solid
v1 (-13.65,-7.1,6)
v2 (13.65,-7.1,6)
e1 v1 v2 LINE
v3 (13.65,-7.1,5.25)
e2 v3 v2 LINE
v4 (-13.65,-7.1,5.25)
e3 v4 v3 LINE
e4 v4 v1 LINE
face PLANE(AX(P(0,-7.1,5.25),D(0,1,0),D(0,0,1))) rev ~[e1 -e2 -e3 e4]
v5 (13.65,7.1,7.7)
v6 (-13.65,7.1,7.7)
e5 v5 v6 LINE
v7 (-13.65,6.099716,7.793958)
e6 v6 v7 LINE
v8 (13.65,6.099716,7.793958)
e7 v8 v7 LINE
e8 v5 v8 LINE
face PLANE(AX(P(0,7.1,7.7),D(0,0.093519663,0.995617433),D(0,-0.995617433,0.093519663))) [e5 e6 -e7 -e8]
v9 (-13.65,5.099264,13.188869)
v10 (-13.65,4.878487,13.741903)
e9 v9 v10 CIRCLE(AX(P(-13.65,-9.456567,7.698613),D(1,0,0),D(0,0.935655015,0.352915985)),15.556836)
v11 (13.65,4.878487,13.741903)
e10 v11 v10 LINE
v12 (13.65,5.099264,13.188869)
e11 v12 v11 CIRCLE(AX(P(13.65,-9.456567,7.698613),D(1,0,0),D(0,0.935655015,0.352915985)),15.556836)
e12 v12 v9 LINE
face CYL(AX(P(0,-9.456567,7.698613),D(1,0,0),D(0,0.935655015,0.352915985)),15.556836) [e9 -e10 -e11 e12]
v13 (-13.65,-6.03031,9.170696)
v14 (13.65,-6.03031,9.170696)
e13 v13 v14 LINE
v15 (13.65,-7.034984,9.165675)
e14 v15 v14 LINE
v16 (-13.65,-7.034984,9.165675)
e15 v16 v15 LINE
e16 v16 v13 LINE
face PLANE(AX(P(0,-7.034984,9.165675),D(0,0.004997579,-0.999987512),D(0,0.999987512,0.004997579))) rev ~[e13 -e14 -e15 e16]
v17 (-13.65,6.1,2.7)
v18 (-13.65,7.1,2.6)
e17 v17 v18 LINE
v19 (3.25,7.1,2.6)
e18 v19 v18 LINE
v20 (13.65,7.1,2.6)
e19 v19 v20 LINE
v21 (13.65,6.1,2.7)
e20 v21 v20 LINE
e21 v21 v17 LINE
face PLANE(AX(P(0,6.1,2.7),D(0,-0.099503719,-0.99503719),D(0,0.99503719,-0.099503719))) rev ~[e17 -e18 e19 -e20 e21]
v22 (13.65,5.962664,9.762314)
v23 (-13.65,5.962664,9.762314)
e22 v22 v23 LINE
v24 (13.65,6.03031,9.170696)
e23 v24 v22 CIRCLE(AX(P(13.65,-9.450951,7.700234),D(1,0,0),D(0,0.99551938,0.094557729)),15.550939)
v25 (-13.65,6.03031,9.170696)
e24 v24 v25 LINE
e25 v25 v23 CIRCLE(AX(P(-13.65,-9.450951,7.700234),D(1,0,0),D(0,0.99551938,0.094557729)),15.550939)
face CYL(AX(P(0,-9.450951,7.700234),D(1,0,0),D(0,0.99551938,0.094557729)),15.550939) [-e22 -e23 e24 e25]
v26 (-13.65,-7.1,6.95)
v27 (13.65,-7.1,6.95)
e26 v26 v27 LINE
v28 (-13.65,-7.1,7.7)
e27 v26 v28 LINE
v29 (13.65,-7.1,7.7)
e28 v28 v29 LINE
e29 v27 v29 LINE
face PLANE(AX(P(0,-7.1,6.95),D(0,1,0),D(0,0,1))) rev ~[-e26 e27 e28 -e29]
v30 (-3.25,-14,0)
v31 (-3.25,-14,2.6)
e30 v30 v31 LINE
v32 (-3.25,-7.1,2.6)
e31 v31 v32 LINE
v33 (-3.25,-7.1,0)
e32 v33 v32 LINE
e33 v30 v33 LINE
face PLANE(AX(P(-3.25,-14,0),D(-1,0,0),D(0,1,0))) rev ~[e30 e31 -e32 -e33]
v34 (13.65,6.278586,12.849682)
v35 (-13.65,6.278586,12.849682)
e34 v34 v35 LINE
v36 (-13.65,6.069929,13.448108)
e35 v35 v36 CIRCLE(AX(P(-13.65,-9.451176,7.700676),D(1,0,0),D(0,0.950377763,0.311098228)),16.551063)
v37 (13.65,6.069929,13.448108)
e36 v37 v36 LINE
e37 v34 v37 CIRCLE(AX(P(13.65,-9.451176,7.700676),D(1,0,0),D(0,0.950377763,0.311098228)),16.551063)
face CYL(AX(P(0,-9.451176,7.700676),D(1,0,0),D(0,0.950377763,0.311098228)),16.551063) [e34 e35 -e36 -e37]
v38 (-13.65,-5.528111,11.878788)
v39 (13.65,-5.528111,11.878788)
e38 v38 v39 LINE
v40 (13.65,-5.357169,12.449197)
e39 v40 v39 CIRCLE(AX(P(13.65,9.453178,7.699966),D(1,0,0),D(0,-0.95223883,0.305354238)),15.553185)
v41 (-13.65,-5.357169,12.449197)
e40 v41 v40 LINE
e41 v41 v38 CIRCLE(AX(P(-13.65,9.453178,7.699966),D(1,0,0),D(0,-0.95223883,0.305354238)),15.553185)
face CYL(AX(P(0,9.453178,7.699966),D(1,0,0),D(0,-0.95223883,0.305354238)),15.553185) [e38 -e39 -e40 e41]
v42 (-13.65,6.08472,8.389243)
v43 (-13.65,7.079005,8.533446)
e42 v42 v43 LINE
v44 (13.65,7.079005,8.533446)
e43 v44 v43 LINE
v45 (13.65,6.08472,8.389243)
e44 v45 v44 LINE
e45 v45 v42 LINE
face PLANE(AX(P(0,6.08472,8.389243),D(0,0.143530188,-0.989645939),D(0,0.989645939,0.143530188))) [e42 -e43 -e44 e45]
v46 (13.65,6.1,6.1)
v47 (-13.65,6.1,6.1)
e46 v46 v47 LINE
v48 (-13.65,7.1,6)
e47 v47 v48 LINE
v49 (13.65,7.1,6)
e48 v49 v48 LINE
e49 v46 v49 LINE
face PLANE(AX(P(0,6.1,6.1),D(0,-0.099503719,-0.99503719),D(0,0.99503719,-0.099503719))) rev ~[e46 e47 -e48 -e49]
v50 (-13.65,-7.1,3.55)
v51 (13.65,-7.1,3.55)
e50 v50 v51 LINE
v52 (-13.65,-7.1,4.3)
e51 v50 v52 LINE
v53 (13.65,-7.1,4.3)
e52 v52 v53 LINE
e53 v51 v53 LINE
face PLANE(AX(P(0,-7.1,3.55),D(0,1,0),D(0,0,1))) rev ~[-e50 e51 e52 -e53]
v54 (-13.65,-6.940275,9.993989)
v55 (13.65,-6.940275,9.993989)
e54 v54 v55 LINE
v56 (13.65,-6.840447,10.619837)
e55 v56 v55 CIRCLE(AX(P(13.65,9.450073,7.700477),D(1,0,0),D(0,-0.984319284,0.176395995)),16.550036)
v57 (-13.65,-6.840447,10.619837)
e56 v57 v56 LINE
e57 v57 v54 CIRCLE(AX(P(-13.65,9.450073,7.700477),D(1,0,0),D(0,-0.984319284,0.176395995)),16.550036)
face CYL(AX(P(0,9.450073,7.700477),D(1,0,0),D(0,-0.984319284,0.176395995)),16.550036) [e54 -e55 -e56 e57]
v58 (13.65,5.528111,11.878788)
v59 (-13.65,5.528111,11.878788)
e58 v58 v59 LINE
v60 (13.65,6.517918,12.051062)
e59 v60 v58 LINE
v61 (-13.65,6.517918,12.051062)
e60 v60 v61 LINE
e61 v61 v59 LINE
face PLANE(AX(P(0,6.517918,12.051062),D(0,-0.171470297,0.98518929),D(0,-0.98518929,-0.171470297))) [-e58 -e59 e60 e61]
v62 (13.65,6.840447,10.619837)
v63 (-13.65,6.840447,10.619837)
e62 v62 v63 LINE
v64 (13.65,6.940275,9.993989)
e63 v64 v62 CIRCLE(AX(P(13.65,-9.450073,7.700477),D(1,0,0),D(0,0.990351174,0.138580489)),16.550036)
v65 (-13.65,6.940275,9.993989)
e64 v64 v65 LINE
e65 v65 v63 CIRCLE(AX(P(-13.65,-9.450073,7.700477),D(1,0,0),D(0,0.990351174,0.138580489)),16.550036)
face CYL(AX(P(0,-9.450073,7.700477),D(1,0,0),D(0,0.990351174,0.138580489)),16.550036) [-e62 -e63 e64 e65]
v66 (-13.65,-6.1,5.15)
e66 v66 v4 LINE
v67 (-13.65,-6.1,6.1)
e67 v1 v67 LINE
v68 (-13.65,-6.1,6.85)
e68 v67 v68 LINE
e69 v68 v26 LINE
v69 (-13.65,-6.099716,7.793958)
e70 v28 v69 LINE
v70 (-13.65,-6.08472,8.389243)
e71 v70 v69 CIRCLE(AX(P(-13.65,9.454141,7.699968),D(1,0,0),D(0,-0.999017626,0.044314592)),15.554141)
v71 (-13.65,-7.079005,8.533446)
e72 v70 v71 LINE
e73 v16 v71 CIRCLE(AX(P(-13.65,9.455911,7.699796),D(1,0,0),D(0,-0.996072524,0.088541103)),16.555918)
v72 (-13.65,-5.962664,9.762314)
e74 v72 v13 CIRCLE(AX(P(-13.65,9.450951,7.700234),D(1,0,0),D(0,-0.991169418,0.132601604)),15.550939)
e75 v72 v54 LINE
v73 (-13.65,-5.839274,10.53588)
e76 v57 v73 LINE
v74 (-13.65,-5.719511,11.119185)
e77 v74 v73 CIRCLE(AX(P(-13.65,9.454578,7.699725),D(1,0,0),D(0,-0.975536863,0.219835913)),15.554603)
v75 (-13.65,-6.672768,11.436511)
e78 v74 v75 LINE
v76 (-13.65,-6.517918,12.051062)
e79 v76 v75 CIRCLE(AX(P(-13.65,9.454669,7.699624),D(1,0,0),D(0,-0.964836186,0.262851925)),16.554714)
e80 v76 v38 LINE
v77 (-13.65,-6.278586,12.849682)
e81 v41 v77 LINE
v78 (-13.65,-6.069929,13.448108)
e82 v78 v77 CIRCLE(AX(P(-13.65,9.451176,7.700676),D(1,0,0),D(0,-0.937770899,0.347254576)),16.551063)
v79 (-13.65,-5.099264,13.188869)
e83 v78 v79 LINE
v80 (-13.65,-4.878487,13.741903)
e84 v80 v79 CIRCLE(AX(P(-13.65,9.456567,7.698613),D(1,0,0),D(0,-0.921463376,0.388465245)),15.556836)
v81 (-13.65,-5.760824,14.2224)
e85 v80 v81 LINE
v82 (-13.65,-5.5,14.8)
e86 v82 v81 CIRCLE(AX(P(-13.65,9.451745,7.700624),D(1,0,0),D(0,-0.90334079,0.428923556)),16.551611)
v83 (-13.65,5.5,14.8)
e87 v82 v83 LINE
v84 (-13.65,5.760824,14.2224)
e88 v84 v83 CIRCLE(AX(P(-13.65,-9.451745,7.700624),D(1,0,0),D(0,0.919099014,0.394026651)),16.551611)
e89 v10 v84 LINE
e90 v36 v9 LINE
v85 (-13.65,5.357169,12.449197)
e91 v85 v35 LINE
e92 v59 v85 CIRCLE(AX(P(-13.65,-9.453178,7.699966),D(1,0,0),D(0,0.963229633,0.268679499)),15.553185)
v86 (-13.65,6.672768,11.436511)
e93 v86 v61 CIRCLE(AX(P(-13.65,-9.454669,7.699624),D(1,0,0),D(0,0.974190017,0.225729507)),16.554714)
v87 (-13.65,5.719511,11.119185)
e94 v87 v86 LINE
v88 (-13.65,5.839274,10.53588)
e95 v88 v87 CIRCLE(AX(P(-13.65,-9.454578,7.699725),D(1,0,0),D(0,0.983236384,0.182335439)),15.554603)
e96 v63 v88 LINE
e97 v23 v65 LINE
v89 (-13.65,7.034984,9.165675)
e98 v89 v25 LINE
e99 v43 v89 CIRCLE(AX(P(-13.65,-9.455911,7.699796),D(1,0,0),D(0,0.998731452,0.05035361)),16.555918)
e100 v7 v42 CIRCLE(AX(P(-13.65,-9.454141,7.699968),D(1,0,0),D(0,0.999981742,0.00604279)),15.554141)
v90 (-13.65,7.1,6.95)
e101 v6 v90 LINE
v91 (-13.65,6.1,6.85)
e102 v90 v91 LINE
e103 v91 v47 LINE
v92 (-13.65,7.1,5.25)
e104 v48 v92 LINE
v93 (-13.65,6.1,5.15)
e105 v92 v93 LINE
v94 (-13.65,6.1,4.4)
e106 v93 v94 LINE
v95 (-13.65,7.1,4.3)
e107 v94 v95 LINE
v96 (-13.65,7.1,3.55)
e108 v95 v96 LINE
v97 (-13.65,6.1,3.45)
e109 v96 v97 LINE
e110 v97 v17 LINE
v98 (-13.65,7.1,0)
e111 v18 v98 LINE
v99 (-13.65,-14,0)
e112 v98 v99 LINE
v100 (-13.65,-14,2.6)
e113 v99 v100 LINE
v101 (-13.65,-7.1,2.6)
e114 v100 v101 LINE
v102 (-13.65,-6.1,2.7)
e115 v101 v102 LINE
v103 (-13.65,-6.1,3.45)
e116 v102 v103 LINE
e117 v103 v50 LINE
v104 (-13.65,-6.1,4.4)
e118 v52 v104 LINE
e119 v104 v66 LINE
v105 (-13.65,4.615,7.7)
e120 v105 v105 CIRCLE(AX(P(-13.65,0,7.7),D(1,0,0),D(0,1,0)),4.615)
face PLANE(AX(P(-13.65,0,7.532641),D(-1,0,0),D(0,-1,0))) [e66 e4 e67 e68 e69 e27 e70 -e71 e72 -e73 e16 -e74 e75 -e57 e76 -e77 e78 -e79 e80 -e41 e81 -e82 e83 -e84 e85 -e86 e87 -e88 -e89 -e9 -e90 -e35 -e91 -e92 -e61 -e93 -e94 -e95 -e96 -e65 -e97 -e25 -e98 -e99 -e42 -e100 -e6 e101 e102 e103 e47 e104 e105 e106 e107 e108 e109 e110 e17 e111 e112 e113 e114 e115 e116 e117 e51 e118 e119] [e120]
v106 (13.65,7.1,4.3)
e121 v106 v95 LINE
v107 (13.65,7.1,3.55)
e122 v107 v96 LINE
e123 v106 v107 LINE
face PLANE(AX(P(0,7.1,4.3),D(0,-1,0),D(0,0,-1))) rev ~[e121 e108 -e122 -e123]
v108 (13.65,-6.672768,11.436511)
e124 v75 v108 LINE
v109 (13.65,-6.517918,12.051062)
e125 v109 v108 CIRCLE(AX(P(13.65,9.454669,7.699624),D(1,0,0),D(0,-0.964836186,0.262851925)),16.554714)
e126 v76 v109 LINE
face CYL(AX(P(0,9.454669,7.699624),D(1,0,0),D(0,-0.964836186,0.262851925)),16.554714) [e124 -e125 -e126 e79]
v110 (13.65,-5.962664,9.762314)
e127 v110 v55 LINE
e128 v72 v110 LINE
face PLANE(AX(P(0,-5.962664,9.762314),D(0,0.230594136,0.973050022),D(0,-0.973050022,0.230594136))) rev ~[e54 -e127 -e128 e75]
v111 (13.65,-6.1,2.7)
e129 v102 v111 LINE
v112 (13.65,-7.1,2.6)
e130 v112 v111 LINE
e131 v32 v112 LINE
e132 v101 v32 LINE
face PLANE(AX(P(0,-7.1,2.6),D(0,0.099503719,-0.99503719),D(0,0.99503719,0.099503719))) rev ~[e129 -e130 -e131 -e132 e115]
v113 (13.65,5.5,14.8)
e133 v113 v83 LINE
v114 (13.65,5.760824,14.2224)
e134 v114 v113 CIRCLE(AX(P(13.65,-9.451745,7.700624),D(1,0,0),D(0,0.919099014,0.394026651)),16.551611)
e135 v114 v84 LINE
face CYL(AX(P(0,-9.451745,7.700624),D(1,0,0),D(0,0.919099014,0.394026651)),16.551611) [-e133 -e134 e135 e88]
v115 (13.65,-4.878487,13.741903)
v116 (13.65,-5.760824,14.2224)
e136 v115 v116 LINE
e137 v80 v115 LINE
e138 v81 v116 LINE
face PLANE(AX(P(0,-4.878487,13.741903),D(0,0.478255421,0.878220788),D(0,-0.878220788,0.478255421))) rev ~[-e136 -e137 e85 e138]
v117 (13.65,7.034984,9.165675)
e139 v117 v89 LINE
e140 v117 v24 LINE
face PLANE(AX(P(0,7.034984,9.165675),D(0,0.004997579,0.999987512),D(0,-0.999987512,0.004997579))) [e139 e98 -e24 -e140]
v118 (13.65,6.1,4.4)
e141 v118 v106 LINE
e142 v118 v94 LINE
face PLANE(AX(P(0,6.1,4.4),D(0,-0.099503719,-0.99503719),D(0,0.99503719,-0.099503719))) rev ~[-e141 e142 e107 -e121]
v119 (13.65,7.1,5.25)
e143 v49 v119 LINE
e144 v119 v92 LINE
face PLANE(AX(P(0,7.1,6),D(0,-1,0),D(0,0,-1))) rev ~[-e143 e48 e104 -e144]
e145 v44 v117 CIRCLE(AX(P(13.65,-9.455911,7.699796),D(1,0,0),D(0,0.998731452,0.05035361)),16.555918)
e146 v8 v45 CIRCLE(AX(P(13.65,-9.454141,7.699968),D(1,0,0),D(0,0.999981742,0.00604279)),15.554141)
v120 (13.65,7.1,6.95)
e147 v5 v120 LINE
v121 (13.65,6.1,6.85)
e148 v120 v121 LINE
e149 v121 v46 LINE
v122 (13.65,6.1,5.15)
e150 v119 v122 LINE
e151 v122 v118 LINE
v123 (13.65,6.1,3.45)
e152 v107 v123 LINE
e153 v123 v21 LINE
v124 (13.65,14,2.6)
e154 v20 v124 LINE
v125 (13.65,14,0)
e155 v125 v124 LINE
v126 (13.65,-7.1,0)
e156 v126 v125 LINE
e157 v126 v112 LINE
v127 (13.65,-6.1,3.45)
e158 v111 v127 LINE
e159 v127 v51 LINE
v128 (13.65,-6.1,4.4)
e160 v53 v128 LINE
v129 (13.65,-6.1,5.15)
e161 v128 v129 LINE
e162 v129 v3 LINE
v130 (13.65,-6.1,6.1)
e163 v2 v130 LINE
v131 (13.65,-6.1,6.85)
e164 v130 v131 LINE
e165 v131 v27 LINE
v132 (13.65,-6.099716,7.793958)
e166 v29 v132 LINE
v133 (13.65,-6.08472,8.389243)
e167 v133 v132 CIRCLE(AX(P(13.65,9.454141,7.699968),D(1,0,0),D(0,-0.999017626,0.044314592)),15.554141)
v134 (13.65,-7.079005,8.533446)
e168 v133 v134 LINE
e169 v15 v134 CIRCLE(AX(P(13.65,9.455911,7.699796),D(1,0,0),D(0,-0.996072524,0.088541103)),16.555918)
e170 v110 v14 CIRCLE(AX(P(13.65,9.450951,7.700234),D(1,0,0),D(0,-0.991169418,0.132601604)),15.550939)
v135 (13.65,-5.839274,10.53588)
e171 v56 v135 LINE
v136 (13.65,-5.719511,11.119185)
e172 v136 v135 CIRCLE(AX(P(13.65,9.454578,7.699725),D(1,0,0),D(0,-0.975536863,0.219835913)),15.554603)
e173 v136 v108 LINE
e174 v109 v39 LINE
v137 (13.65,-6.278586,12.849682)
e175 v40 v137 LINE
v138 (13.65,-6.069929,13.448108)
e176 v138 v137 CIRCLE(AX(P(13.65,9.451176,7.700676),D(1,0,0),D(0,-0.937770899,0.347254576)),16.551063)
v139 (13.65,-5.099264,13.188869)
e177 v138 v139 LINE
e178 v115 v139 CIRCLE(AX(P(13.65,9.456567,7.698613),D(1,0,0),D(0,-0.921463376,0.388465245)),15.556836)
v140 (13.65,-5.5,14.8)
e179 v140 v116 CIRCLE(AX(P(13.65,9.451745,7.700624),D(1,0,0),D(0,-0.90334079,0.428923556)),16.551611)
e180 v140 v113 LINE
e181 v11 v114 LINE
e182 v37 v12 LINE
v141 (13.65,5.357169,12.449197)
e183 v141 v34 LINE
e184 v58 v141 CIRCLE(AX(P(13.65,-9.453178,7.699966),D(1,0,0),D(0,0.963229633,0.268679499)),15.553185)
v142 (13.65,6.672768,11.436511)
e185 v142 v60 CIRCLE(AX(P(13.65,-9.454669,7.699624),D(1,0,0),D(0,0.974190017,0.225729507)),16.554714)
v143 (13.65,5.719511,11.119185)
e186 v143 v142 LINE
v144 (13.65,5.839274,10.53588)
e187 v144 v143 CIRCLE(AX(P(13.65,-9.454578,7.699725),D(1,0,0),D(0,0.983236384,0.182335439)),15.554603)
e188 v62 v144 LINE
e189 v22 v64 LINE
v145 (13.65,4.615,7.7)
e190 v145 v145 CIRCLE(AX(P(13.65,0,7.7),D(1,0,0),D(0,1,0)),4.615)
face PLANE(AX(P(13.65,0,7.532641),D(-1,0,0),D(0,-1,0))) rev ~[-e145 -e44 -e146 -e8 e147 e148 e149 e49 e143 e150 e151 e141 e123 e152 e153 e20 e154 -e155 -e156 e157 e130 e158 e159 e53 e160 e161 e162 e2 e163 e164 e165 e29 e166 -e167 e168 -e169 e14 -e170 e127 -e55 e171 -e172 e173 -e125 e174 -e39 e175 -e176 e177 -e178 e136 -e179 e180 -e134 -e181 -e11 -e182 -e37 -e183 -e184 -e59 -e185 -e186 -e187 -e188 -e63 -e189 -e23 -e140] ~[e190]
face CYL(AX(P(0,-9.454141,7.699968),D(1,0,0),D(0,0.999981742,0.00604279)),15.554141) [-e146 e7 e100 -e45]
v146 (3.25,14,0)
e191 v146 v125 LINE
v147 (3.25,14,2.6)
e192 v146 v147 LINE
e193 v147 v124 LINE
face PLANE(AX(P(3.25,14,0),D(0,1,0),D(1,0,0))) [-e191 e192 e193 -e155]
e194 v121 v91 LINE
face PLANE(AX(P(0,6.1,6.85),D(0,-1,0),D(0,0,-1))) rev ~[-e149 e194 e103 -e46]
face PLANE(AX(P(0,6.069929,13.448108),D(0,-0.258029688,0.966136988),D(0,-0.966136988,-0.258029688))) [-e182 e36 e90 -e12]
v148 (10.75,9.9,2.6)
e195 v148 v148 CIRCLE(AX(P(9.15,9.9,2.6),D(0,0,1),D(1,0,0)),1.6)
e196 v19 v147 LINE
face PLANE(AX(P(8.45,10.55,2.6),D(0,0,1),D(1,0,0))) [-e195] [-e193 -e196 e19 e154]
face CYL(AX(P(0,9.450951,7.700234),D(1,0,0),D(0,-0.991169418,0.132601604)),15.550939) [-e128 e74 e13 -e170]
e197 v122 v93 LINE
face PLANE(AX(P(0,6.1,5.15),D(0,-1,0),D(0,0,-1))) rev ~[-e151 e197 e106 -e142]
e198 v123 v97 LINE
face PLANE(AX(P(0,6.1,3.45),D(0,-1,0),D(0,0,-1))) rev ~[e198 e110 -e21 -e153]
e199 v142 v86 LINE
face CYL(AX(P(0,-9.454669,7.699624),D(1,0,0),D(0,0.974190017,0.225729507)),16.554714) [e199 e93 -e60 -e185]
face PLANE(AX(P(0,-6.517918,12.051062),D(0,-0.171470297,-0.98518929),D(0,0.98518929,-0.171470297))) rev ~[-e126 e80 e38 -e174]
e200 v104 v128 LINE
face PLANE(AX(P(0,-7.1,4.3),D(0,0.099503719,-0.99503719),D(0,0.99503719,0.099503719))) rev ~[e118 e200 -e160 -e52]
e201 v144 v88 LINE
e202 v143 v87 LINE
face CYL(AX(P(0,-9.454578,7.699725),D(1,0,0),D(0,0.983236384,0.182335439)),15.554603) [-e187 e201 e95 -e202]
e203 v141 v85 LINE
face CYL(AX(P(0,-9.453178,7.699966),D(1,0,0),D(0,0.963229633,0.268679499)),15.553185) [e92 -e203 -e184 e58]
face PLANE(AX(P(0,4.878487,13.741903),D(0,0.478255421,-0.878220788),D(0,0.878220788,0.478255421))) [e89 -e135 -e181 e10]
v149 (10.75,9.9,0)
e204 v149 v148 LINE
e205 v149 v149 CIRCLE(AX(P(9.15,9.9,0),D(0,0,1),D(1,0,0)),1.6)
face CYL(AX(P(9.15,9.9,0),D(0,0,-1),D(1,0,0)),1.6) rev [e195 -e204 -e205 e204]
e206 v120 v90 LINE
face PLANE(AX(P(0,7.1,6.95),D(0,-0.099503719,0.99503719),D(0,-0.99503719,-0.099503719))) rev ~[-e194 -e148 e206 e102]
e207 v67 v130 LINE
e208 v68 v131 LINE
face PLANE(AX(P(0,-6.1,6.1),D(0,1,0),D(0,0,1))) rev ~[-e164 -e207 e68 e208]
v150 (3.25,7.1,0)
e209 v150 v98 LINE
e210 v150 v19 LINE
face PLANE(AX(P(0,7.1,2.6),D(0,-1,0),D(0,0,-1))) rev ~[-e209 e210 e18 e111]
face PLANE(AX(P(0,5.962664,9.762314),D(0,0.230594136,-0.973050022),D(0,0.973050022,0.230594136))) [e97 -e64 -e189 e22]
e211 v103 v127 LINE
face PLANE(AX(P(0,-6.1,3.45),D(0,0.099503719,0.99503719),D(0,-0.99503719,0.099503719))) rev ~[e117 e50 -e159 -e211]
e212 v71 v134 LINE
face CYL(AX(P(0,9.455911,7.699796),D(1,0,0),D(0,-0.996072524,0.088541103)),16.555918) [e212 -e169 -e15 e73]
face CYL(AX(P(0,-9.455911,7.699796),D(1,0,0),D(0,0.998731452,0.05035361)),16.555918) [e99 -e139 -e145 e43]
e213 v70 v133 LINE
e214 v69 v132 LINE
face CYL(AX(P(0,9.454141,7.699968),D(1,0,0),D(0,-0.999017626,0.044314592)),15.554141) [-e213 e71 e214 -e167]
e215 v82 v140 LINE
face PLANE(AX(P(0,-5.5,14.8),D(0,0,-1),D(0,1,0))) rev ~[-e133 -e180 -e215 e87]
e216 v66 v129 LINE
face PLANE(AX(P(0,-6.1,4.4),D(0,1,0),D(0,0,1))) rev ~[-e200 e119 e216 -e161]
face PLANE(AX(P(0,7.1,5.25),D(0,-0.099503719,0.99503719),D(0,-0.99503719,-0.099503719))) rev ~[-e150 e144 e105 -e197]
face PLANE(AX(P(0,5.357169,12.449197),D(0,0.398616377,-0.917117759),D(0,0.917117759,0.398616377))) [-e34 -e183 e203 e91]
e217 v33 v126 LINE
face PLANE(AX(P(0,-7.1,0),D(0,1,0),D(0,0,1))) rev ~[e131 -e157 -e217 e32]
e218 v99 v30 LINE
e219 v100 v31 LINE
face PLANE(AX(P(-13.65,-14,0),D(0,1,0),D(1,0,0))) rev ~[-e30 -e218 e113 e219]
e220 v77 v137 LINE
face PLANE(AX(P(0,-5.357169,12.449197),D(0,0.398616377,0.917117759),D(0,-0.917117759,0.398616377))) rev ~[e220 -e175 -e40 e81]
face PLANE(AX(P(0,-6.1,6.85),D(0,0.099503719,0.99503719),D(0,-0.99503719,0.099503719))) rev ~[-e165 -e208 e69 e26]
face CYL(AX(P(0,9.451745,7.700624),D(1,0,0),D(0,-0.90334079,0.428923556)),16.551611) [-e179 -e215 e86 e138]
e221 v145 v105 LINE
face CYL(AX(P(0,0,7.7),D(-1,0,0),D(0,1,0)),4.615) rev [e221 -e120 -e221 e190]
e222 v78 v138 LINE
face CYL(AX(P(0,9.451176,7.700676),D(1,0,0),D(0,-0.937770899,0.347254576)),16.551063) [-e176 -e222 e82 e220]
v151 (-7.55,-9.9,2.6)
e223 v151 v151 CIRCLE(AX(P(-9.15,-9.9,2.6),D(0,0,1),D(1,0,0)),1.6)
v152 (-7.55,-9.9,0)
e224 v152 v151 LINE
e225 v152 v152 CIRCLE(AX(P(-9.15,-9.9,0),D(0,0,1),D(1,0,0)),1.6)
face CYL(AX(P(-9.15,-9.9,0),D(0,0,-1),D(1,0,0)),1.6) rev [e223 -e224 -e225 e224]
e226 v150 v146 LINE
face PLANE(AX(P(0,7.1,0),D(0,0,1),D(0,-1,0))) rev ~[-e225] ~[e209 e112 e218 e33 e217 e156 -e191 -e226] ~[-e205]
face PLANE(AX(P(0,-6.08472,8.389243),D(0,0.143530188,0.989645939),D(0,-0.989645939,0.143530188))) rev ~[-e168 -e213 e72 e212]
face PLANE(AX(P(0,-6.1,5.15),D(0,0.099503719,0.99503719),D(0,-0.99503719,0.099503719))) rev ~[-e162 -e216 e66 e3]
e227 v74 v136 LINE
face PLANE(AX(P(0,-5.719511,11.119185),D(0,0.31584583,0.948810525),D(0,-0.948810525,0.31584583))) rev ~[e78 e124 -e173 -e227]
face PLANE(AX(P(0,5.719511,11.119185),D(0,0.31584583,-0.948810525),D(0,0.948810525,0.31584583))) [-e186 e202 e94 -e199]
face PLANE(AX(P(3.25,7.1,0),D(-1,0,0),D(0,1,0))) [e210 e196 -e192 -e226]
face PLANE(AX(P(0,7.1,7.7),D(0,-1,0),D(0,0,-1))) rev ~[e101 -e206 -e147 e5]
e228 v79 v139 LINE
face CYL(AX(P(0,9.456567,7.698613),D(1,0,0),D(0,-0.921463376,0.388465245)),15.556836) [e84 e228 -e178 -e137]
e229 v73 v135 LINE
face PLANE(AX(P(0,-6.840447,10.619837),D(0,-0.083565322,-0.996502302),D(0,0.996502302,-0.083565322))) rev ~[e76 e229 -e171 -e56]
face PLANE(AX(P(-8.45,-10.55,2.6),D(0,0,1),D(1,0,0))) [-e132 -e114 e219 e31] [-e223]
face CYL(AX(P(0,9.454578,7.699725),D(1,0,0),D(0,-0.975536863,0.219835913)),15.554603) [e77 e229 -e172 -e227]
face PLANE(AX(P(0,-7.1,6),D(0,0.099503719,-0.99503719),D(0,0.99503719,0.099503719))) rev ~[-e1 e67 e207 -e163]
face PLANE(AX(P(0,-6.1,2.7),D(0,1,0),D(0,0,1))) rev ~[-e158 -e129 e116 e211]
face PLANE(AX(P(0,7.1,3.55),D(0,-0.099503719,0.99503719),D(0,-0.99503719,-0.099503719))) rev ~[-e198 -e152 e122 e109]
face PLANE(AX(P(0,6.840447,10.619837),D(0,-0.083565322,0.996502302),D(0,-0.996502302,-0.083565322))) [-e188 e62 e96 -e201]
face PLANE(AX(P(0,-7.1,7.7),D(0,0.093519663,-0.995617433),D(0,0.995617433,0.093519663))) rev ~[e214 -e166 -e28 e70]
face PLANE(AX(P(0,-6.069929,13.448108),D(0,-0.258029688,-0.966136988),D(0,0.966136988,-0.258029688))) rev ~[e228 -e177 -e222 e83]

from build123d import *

# Parameters (mm, degrees)
SKETCH_R         = 4.615
EXTRUDE_DEPTH    = 13.65
SKETCH001_W      = 10.4
SKETCH001_H      = 6.9
SKETCH001_R      = 1.6
EXTRUDE001_DEPTH = 2.6


with BuildPart() as body_main:
    # Sketch → Extrude (new body, symmetric)
    with BuildSketch(Plane.YZ):
        with BuildLine():
            Line((-5.5, 14.8), (5.5, 14.8))
            ThreePointArc((5.760824, 14.2224), (5.633177, 14.512448), (5.5, 14.8))
            Line((4.878487, 13.741903), (5.760824, 14.2224))
            ThreePointArc((5.099264, 13.188869), (4.991522, 13.466442), (4.878487, 13.741903))
            Line((6.069929, 13.448108), (5.099264, 13.188869))
            ThreePointArc((6.278586, 12.849682), (6.177122, 13.149894), (6.069929, 13.448108))
            Line((5.357169, 12.449197), (6.278586, 12.849682))
            ThreePointArc((5.528111, 11.878788), (5.44537, 12.164811), (5.357169, 12.449197))
            Line((6.517918, 12.051062), (5.528111, 11.878788))
            ThreePointArc((6.672768, 11.436511), (6.598284, 11.744528), (6.517918, 12.051062))
            Line((5.719511, 11.119185), (6.672768, 11.436511))
            ThreePointArc((5.839274, 10.53588), (5.782184, 10.828106), (5.719511, 11.119185))
            Line((6.840447, 10.619837), (5.839274, 10.53588))
            ThreePointArc((6.940275, 9.993989), (6.893357, 10.307391), (6.840447, 10.619837))
            Line((5.962664, 9.762314), (6.940275, 9.993989))
            ThreePointArc((6.03031, 9.170696), (5.999319, 9.466829), (5.962664, 9.762314))
            Line((7.034984, 9.165675), (6.03031, 9.170696))
            ThreePointArc((7.079005, 8.533446), (7.06002, 8.849771), (7.034984, 9.165675))
            Line((6.08472, 8.389243), (7.079005, 8.533446))
            ThreePointArc((6.099716, 7.793958), (6.095067, 8.091672), (6.08472, 8.389243))
            Line((7.1, 7.7), (6.099716, 7.793958))
            Line((7.1, 7.7), (7.1, 6.95))
            Line((7.1, 6.95), (6.1, 6.85))
            Line((6.1, 6.85), (6.1, 6.1))
            Line((6.1, 6.1), (7.1, 6))
            Line((7.1, 6), (7.1, 5.25))
            Line((7.1, 5.25), (6.1, 5.15))
            Line((6.1, 5.15), (6.1, 4.4))
            Line((6.1, 4.4), (7.1, 4.3))
            Line((7.1, 4.3), (7.1, 3.55))
            Line((7.1, 3.55), (6.1, 3.45))
            Line((6.1, 3.45), (6.1, 2.7))
            Line((6.1, 2.7), (7.1, 2.6))
            Line((7.1, 2.6), (7.1, 0))
            Line((7.1, 0), (-7.1, 0))
            Line((-7.1, 0), (-7.1, 2.6))
            Line((-7.1, 2.6), (-6.1, 2.7))
            Line((-6.1, 2.7), (-6.1, 3.45))
            Line((-6.1, 3.45), (-7.1, 3.55))
            Line((-7.1, 3.55), (-7.1, 4.3))
            Line((-7.1, 4.3), (-6.1, 4.4))
            Line((-6.1, 4.4), (-6.1, 5.15))
            Line((-6.1, 5.15), (-7.1, 5.25))
            Line((-7.1, 5.25), (-7.1, 6))
            Line((-7.1, 6), (-6.1, 6.1))
            Line((-6.1, 6.1), (-6.1, 6.85))
            Line((-6.1, 6.85), (-7.1, 6.95))
            Line((-7.1, 6.95), (-7.1, 7.7))
            Line((-7.1, 7.7), (-6.099716, 7.793958))
            ThreePointArc((-6.08472, 8.389243), (-6.095067, 8.091672), (-6.099716, 7.793958))
            Line((-6.08472, 8.389243), (-7.079005, 8.533446))
            ThreePointArc((-7.034984, 9.165675), (-7.06002, 8.849771), (-7.079005, 8.533446))
            Line((-7.034984, 9.165675), (-6.03031, 9.170696))
            ThreePointArc((-5.962664, 9.762314), (-5.999319, 9.466829), (-6.03031, 9.170696))
            Line((-5.962664, 9.762314), (-6.940275, 9.993989))
            ThreePointArc((-6.840447, 10.619837), (-6.893357, 10.307391), (-6.940275, 9.993989))
            Line((-6.840447, 10.619837), (-5.839274, 10.53588))
            ThreePointArc((-5.719511, 11.119185), (-5.782184, 10.828106), (-5.839274, 10.53588))
            Line((-5.719511, 11.119185), (-6.672768, 11.436511))
            ThreePointArc((-6.517918, 12.051062), (-6.598284, 11.744528), (-6.672768, 11.436511))
            Line((-6.517918, 12.051062), (-5.528111, 11.878788))
            ThreePointArc((-5.357169, 12.449197), (-5.44537, 12.164811), (-5.528111, 11.878788))
            Line((-5.357169, 12.449197), (-6.278586, 12.849682))
            ThreePointArc((-6.069929, 13.448108), (-6.177122, 13.149894), (-6.278586, 12.849682))
            Line((-6.069929, 13.448108), (-5.099264, 13.188869))
            ThreePointArc((-4.878487, 13.741903), (-4.991522, 13.466442), (-5.099264, 13.188869))
            Line((-4.878487, 13.741903), (-5.760824, 14.2224))
            ThreePointArc((-5.5, 14.8), (-5.633177, 14.512448), (-5.760824, 14.2224))
        make_face()
        with Locations((0, 7.7)):
            Circle(SKETCH_R, mode=Mode.SUBTRACT)
    extrude(amount=EXTRUDE_DEPTH, both=True)


with BuildPart() as body:
    # Sketch001 → Extrude001 (new body)
    with BuildSketch(Plane.XY):
        with Locations((8.45, 10.55)):
            Rectangle(SKETCH001_W, SKETCH001_H)
        with Locations((9.15, 9.9)):
            Circle(SKETCH001_R, mode=Mode.SUBTRACT)
        with Locations((-8.45, -10.55)):
            Rectangle(SKETCH001_W, SKETCH001_H)
        with Locations((-9.15, -9.9)):
            Circle(SKETCH001_R, mode=Mode.SUBTRACT)
    extrude(amount=EXTRUDE001_DEPTH)

    # Fusion: union Body Main
    add(body_main.part)


solid = body.part
